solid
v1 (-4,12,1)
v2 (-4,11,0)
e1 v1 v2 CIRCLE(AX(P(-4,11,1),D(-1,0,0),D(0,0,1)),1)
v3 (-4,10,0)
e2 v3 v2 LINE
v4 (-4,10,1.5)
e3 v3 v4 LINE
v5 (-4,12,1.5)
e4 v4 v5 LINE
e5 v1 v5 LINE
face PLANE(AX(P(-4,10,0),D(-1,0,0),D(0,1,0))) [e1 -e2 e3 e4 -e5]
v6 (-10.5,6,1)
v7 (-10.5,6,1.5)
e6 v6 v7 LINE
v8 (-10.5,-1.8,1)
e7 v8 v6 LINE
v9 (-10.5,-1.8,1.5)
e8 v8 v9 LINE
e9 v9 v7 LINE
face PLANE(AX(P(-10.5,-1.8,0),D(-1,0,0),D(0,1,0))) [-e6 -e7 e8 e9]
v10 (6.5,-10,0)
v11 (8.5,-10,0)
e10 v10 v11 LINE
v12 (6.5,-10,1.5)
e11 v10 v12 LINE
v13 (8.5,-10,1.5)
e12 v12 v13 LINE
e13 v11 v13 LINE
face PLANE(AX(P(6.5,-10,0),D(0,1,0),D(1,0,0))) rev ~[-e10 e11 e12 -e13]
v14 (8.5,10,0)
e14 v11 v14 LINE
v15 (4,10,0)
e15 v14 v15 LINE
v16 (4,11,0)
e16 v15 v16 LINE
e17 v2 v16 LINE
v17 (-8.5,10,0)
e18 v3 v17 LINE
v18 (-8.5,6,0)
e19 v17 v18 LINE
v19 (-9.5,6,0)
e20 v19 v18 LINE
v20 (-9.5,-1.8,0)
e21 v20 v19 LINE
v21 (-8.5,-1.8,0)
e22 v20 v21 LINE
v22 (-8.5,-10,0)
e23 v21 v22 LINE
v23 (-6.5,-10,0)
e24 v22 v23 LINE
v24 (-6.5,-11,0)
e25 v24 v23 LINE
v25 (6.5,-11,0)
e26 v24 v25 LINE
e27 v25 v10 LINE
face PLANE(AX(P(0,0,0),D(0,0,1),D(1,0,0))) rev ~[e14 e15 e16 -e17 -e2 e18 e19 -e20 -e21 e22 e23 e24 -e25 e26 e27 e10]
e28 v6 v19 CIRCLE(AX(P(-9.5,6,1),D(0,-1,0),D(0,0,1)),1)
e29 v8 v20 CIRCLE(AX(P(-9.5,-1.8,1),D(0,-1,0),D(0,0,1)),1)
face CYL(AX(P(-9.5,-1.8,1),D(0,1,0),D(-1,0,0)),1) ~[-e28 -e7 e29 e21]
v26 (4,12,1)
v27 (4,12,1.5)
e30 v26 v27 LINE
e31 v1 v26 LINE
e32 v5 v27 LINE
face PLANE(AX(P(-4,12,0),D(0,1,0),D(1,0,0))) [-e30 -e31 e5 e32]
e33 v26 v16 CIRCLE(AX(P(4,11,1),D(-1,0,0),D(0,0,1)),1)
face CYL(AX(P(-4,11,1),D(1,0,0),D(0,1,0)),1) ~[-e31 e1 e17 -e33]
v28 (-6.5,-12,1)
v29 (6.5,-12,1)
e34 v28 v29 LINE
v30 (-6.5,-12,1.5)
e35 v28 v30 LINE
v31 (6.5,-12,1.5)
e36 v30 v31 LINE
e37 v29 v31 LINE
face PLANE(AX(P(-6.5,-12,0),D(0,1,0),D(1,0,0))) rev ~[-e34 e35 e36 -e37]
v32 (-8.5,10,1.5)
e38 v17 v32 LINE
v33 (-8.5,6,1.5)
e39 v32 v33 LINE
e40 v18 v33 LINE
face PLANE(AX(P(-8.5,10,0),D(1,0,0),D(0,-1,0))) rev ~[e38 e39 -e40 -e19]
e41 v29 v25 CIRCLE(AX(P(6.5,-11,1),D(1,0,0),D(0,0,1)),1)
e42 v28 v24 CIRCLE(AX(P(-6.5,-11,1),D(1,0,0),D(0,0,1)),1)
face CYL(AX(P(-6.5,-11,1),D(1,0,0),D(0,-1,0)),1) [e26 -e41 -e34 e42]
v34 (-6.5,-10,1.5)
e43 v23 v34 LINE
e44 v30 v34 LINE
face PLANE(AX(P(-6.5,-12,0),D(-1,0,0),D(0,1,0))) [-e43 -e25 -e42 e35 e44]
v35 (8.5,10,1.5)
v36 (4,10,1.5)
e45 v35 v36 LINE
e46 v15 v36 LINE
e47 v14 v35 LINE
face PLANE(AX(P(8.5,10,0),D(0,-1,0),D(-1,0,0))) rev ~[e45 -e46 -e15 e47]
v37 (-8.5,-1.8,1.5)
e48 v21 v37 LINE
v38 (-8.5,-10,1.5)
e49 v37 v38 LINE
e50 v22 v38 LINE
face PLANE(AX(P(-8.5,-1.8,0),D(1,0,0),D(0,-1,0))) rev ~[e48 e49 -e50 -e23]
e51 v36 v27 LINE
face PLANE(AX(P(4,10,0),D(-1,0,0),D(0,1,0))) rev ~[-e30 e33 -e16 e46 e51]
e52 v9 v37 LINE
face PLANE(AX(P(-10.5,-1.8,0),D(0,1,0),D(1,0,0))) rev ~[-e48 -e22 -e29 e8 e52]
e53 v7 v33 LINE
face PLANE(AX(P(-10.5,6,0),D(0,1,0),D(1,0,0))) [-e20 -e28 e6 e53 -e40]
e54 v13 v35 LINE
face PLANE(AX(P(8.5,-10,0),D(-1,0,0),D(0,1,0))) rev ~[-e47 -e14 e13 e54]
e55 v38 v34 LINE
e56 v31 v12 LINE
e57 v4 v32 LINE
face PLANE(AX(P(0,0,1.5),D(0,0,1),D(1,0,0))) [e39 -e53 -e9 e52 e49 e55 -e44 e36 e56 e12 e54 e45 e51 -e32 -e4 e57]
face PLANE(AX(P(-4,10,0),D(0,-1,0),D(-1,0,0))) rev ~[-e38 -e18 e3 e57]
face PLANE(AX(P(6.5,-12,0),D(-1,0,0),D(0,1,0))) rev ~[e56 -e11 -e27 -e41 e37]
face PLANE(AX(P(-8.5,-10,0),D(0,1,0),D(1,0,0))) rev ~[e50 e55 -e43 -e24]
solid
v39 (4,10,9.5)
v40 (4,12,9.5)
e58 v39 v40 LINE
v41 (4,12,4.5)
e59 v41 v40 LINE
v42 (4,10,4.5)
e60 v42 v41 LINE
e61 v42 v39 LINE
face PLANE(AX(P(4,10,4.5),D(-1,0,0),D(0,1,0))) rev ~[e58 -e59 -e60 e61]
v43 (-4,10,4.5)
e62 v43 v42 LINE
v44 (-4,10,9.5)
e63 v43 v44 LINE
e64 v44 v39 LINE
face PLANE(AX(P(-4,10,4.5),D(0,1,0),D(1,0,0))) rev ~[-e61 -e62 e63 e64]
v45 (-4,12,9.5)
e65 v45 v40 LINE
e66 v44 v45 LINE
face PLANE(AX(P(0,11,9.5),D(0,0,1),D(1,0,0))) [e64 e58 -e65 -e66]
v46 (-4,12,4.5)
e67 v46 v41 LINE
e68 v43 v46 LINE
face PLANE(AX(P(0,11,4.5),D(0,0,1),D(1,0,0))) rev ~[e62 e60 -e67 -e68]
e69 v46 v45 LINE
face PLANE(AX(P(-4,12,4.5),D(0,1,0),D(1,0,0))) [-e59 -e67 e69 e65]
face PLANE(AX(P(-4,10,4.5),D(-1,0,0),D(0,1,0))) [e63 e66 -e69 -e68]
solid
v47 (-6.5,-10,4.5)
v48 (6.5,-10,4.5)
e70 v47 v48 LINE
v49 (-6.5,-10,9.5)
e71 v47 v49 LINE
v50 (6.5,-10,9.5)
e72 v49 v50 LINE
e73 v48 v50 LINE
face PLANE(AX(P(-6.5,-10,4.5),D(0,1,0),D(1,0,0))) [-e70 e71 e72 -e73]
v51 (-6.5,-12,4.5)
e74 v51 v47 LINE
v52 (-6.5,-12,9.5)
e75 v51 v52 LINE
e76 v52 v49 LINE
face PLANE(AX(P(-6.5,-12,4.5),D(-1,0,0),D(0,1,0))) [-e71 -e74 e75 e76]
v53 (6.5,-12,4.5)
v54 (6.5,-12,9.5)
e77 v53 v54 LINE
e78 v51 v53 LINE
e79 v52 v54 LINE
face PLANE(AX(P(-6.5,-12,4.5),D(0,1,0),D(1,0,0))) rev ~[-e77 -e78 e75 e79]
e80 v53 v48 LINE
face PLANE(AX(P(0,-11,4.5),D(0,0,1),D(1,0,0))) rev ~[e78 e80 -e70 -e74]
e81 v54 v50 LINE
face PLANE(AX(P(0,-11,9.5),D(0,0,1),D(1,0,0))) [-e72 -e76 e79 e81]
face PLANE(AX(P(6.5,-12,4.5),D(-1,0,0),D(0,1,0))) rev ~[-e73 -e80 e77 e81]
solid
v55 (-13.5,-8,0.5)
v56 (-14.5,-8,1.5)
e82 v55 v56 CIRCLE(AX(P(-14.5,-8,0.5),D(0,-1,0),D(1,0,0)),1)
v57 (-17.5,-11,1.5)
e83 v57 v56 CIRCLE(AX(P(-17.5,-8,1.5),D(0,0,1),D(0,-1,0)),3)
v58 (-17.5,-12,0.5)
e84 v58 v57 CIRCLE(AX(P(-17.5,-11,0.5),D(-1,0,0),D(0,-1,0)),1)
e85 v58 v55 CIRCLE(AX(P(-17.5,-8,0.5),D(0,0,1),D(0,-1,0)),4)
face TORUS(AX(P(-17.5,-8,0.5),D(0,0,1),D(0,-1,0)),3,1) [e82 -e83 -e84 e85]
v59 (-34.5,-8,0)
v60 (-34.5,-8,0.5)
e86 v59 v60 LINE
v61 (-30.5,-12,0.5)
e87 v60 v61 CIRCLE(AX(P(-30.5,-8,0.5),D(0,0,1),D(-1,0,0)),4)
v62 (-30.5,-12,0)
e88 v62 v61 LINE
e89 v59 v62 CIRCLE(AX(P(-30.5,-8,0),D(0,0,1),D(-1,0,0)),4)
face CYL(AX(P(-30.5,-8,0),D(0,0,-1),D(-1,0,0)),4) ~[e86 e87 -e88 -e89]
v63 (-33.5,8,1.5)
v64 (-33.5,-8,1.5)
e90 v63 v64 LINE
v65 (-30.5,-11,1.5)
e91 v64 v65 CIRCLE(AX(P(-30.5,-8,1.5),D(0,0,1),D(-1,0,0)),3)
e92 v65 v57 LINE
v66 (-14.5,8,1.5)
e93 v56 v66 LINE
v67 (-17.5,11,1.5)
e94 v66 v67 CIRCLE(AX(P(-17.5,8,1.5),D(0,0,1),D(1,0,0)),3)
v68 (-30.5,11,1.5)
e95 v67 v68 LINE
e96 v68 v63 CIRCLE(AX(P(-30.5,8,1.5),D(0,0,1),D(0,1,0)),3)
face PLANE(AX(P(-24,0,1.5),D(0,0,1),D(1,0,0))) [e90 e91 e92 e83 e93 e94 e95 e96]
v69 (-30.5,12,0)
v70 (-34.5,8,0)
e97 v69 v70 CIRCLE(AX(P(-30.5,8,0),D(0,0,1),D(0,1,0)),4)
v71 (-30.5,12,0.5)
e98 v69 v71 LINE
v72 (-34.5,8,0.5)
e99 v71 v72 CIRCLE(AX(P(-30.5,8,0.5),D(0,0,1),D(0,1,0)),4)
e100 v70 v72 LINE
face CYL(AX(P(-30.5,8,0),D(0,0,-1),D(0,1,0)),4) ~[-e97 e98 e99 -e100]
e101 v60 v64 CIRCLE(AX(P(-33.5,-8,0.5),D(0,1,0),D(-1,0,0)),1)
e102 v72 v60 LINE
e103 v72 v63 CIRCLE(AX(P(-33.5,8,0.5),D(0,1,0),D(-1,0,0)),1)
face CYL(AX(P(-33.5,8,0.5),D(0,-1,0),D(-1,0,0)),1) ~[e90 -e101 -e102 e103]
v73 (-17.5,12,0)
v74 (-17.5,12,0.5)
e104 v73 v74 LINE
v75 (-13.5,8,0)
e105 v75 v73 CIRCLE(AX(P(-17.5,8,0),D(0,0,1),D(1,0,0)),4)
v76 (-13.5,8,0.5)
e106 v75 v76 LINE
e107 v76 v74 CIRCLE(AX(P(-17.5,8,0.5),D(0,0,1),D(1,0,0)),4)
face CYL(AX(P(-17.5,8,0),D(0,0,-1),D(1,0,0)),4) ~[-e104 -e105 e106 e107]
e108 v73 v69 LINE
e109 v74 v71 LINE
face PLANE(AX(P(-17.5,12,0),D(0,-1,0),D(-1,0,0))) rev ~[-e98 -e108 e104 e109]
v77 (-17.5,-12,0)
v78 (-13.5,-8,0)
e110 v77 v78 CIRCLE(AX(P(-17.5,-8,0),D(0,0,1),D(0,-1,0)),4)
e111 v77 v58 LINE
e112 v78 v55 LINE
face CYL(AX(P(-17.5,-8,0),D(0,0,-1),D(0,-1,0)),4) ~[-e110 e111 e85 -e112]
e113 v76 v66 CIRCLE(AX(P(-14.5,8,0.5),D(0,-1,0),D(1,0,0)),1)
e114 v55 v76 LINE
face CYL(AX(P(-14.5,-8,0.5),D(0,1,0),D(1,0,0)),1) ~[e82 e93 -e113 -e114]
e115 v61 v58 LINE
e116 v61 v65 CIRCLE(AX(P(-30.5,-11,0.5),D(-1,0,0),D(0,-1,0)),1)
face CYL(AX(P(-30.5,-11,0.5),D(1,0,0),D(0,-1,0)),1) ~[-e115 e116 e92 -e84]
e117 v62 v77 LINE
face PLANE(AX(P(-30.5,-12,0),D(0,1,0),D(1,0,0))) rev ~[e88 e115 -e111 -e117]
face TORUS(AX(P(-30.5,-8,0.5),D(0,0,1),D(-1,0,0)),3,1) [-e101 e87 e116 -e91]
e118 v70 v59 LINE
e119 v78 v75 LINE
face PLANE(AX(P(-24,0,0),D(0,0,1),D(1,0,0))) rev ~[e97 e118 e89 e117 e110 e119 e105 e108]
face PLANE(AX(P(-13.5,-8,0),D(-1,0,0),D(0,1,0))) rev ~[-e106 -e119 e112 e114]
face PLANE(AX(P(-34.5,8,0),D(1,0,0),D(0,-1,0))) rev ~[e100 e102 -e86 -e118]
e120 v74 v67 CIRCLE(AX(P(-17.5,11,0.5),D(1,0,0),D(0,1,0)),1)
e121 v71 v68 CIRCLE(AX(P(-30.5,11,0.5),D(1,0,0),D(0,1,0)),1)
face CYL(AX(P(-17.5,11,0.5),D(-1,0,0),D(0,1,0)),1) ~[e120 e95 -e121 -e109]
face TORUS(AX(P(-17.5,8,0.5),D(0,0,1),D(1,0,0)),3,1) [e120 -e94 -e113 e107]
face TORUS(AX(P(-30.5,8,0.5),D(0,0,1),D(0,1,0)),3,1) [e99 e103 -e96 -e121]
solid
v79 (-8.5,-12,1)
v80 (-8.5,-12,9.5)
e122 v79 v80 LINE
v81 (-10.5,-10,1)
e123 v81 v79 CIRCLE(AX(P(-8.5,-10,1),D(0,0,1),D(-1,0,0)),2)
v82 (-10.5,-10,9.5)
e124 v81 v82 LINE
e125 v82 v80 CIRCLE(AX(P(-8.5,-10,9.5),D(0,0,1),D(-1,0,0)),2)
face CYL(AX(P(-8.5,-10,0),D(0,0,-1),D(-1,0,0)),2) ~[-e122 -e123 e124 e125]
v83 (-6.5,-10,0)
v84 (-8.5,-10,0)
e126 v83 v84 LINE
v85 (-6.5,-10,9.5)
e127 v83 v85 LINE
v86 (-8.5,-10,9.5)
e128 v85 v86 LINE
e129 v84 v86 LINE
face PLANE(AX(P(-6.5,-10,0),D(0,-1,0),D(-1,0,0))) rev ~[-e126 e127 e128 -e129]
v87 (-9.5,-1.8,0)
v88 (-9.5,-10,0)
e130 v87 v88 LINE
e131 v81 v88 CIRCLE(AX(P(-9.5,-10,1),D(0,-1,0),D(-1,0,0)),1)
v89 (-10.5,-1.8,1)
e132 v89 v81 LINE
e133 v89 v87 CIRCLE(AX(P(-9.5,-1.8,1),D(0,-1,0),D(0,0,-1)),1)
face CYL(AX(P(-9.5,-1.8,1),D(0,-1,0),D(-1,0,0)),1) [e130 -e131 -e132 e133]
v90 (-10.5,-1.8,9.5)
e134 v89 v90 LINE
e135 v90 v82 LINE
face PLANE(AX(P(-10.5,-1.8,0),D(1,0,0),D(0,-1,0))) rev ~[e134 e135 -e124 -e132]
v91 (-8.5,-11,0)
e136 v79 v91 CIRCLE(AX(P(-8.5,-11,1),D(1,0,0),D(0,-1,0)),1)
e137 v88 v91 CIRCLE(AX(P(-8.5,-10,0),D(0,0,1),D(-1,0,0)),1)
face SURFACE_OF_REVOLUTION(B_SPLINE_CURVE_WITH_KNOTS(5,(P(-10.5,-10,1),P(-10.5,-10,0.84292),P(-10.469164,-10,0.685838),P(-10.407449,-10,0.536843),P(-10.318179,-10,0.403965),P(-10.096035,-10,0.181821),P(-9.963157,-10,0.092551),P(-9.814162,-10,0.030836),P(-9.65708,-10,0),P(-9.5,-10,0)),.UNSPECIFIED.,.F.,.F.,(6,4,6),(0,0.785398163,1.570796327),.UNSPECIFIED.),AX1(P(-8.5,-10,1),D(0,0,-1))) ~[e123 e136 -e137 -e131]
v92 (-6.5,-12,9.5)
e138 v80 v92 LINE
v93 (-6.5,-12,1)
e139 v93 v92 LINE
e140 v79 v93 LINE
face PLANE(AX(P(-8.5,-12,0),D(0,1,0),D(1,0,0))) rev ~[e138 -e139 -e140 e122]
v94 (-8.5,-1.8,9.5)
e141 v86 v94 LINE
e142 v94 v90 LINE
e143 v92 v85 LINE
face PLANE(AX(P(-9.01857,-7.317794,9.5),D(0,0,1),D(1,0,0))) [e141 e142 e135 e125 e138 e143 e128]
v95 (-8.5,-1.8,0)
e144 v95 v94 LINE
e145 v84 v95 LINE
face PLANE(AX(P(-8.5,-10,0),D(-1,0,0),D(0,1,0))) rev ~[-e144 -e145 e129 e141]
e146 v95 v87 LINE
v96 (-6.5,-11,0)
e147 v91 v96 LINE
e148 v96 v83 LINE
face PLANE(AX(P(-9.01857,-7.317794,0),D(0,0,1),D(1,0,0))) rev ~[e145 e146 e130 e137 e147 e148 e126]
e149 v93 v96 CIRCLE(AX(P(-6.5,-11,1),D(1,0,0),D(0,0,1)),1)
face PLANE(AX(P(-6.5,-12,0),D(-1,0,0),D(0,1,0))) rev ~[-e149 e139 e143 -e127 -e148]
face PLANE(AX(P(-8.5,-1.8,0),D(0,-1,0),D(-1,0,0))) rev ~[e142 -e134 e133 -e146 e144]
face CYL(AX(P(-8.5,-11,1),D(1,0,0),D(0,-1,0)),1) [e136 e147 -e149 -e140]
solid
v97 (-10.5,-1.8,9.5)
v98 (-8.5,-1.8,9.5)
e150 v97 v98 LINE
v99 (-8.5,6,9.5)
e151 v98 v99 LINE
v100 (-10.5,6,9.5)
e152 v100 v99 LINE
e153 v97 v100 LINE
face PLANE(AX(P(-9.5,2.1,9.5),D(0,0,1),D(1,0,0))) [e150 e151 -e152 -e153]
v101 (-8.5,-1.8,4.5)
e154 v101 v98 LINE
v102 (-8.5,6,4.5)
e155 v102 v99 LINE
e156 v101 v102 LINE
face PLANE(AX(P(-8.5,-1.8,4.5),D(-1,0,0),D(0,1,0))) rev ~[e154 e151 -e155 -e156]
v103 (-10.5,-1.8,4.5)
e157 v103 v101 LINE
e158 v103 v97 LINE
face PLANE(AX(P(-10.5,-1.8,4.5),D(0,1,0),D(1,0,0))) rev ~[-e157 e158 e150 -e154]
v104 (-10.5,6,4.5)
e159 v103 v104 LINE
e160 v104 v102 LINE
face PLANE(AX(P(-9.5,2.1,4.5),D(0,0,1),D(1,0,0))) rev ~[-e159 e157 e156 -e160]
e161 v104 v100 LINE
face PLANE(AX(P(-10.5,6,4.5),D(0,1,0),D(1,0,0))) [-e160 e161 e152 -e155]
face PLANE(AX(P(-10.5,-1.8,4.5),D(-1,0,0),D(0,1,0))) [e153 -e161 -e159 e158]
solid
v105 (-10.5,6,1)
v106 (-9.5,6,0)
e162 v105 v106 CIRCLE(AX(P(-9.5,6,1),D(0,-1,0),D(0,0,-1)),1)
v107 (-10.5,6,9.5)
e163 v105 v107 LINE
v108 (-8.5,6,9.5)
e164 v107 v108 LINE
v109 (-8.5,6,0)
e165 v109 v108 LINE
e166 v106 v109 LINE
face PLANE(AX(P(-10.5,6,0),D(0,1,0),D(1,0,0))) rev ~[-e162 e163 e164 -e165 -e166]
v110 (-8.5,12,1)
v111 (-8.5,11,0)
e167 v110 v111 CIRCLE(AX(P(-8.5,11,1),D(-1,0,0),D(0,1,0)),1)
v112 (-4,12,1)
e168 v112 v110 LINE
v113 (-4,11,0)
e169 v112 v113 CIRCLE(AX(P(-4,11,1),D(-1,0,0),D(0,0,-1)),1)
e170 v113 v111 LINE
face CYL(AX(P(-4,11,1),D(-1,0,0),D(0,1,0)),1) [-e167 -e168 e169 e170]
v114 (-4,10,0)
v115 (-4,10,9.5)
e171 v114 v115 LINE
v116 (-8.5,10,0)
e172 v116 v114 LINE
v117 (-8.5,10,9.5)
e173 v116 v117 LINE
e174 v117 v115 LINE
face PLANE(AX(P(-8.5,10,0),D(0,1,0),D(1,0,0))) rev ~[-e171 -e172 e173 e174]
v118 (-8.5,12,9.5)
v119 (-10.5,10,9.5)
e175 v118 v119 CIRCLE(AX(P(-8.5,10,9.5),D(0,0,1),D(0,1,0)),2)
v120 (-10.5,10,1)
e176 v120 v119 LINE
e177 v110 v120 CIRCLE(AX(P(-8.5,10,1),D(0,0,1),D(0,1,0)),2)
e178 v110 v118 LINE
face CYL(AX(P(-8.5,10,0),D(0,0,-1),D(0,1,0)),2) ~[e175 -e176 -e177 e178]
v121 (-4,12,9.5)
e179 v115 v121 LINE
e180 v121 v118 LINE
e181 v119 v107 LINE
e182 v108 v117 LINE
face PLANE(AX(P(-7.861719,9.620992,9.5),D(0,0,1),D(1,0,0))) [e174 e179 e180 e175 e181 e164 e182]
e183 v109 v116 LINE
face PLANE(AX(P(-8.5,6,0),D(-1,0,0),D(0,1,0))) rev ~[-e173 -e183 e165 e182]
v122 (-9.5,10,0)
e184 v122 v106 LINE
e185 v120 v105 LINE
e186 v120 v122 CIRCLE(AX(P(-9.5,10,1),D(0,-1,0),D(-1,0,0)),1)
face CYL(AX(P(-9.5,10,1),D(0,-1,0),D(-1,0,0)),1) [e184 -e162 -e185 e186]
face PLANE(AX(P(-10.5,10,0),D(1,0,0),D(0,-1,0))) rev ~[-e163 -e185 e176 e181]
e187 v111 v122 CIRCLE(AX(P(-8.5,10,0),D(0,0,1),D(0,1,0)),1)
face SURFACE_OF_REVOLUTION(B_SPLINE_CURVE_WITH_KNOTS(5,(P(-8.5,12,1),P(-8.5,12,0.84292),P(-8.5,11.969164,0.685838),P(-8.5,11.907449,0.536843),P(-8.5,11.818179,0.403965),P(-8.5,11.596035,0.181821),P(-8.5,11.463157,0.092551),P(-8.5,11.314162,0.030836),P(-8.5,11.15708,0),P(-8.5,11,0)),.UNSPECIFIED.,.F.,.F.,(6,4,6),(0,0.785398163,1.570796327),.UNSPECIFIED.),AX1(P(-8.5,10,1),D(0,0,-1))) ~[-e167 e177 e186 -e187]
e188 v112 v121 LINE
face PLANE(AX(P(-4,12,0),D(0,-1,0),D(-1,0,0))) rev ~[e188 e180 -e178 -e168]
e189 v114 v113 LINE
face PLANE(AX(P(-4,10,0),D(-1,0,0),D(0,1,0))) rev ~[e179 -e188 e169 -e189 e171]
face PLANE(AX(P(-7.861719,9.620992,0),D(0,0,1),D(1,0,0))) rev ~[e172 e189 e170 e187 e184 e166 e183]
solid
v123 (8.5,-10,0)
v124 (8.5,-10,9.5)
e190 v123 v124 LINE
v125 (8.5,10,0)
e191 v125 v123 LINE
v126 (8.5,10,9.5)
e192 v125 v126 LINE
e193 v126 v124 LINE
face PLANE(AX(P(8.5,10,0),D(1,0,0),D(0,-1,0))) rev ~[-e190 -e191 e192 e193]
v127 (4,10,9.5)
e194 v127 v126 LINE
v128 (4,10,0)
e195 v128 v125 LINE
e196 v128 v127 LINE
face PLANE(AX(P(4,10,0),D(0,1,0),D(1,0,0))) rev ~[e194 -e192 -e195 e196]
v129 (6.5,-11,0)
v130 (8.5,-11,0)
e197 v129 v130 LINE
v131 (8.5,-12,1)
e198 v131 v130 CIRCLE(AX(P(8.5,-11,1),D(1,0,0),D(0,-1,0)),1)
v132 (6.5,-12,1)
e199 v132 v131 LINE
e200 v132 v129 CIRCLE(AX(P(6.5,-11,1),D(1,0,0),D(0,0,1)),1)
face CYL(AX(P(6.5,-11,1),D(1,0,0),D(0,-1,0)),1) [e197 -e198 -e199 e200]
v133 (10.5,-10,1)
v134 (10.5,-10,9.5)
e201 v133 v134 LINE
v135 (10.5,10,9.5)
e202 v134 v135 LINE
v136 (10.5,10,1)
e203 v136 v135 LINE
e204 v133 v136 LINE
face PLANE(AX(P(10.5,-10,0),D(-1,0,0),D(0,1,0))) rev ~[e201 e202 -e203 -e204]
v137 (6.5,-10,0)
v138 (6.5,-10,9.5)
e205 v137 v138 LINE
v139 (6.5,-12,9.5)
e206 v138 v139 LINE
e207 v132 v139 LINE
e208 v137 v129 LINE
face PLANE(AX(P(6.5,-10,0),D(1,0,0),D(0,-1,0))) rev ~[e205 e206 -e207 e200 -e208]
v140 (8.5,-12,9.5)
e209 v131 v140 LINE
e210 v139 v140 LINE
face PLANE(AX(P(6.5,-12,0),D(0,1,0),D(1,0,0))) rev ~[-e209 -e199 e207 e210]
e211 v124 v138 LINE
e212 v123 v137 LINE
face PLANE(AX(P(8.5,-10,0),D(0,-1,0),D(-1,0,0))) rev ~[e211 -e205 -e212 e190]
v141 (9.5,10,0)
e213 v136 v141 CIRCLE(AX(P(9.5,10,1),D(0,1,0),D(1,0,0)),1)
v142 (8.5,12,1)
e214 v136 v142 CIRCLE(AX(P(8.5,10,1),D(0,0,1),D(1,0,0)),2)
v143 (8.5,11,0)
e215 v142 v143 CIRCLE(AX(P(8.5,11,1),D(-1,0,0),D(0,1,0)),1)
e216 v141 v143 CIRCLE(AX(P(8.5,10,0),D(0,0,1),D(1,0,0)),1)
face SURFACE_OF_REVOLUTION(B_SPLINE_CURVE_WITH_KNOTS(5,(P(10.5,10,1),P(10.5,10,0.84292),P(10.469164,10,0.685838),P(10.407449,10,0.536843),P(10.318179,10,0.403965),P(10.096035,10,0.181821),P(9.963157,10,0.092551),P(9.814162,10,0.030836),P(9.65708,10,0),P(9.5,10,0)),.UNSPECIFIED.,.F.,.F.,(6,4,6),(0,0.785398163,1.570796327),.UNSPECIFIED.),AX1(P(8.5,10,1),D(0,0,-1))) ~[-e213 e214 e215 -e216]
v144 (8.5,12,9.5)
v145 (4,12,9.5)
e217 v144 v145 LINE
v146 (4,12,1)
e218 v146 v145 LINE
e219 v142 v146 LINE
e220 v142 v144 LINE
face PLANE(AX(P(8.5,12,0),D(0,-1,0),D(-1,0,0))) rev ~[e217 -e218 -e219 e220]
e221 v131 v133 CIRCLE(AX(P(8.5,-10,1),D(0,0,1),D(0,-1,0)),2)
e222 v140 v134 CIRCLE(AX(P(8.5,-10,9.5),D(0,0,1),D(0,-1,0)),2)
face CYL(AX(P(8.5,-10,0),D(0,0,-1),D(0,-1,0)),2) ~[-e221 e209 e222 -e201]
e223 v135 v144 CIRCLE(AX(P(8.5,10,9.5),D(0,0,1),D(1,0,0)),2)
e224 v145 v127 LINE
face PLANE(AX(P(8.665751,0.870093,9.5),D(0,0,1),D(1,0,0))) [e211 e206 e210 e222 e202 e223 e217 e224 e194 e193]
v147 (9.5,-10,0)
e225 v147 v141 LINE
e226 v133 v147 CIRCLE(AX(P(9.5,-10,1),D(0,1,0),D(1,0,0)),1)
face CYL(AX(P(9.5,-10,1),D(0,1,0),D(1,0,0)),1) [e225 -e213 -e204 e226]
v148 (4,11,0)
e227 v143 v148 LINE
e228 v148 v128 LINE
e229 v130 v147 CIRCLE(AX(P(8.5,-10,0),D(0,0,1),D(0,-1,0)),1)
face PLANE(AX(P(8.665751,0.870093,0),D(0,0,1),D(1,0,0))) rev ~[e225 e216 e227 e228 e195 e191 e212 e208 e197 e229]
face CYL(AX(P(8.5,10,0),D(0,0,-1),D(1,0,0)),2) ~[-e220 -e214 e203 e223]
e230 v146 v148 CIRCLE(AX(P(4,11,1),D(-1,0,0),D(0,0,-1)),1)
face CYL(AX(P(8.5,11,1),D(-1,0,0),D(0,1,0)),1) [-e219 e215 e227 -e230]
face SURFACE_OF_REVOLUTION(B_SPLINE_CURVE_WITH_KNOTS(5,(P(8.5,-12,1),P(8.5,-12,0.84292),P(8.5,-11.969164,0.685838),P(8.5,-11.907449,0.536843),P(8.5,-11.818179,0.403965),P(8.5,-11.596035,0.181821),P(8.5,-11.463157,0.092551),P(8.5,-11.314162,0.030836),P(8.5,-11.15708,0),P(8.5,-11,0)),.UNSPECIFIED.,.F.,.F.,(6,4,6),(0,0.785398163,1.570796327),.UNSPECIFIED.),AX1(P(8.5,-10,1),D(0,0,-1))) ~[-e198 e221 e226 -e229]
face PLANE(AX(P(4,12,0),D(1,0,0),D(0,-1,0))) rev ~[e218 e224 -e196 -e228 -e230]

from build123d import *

# Parameters (mm, degrees)
F1_DEPTH = 9.5
F2_W     = 8
F2_H     = 2
F2_W_2   = 2
F2_H_2   = 7.8
F2_W_3   = 13
F3_DEPTH = 1.5
F5_START = 4.5
F4_W     = 8
F4_H     = 2
F5_DEPTH = 5
F4_W_2   = 2
F4_H_2   = 7.8
F4_W_3   = 13
F6_R     = 1
F6_2_R   = 1
F6_3_R   = 1
F6_4_R   = 1
F8_DEPTH = 1.5
F9_R     = 1


with BuildPart() as f1:
    # F0 (on Top) → F1 (new body)
    with BuildSketch(Plane.XY):
        with BuildLine():
            Line((8.5, 10), (8.5, -10))
            Line((8.5, -10), (6.5, -10))
            Line((6.5, -10), (6.5, -12))
            Line((6.5, -12), (8.5, -12))
            ThreePointArc((8.5, -12), (9.9142135624, -11.4142135624), (10.5, -10))
            Line((10.5, -10), (10.5, 10))
            ThreePointArc((10.5, 10), (9.9142135624, 11.4142135624), (8.5, 12))
            Line((8.5, 12), (4, 12))
            Line((4, 12), (4, 10))
            Line((4, 10), (8.5, 10))
        make_face()
    extrude(amount=F1_DEPTH)

    # F6
    f6_edges = [f1.edges().sort_by_distance(p)[0] for p in [
        (9.914214, 11.414214, 0),
    ]]
    fillet(f6_edges, radius=F6_R)


with BuildPart() as f1b:
    # F0 (on Top) → F1, piece 2 (new body)
    with BuildSketch(Plane.XY):
        with BuildLine():
            Line((-6.5, -12), (-6.5, -10))
            Line((-6.5, -10), (-8.5, -10))
            Line((-8.5, -10), (-8.5, -1.8))
            Line((-8.5, -1.8), (-10.5, -1.8))
            Line((-10.5, -1.8), (-10.5, -10))
            ThreePointArc((-10.5, -10), (-9.9142135624, -11.4142135624), (-8.5, -12))
            Line((-8.5, -12), (-6.5, -12))
        make_face()
    extrude(amount=F1_DEPTH)

    # F6#4
    f6_4_edges = [f1b.edges().sort_by_distance(p)[0] for p in [
        (-10.5, -5.9, 0),
    ]]
    fillet(f6_4_edges, radius=F6_4_R)


with BuildPart() as f1c:
    # F0 (on Top) → F1, piece 3 (new body)
    with BuildSketch(Plane.XY):
        with BuildLine():
            Line((-8.5, 10), (-4, 10))
            Line((-4, 10), (-4, 12))
            Line((-4, 12), (-8.5, 12))
            ThreePointArc((-8.5, 12), (-9.9142135624, 11.4142135624), (-10.5, 10))
            Line((-10.5, 10), (-10.5, 6))
            Line((-10.5, 6), (-8.5, 6))
            Line((-8.5, 6), (-8.5, 10))
        make_face()
    extrude(amount=F1_DEPTH)

    # F6#3
    f6_3_edges = [f1c.edges().sort_by_distance(p)[0] for p in [
        (-9.914214, 11.414214, 0),
    ]]
    fillet(f6_3_edges, radius=F6_3_R)


with BuildPart() as f3:
    # F2 (on Top) → F3 (new body)
    with BuildSketch(Plane.XY):
        Polygon((6.5, -10), (8.5, -10), (8.5, 10), (4, 10), (-4, 10), (-8.5, 10), (-8.5, 6), (-8.5, -1.8), (-8.5, -10), (-6.5, -10), align=None)
        with Locations((0, 11)):
            Rectangle(F2_W, F2_H)
        with Locations((-9.5, 2.1)):
            Rectangle(F2_W_2, F2_H_2)
        with Locations((0, -11)):
            Rectangle(F2_W_3, F2_H)
    extrude(amount=F3_DEPTH)

    # F6#2
    f6_2_edges = [f3.edges().sort_by_distance(p)[0] for p in [
        (0, 12, 0),
        (-10.5, 2.1, 0),
        (0, -12, 0),
    ]]
    fillet(f6_2_edges, radius=F6_2_R)


with BuildPart() as f5:
    # F4 (on Top) → F5 (new body)
    with BuildSketch(Plane.XY.offset(F5_START)):
        with Locations((0, 11)):
            Rectangle(F4_W, F4_H)
    extrude(amount=F5_DEPTH)


with BuildPart() as f5b:
    # F4 (on Top) → F5, piece 2 (new body)
    with BuildSketch(Plane.XY.offset(F5_START)):
        with Locations((-9.5, 2.1)):
            Rectangle(F4_W_2, F4_H_2)
    extrude(amount=F5_DEPTH)


with BuildPart() as f5c:
    # F4 (on Top) → F5, piece 3 (new body)
    with BuildSketch(Plane.XY.offset(F5_START)):
        with Locations((0, -11)):
            Rectangle(F4_W_3, F4_H)
    extrude(amount=F5_DEPTH)


with BuildPart() as f8:
    # F7 (on Top) → F8 (new body)
    with BuildSketch(Plane.XY):
        with BuildLine():
            Line((-13.5, -8), (-13.5, 8))
            ThreePointArc((-13.5, 8), (-14.6715728753, 10.8284271247), (-17.5, 12))
            Line((-17.5, 12), (-30.5, 12))
            ThreePointArc((-30.5, 12), (-33.3284271247, 10.8284271247), (-34.5, 8))
            Line((-34.5, 8), (-34.5, -8))
            ThreePointArc((-34.5, -8), (-33.3284271247, -10.8284271247), (-30.5, -12))
            Line((-30.5, -12), (-17.5, -12))
            ThreePointArc((-17.5, -12), (-14.6715728753, -10.8284271247), (-13.5, -8))
        make_face()
        with BuildLine():
            ThreePointArc((-15.5, -8), (-16.0857864376, -9.4142135624), (-17.5, -10))
            Line((-17.5, -10), (-30.5, -10))
            ThreePointArc((-30.5, -10), (-31.9142135624, -9.4142135624), (-32.5, -8))
            Line((-32.5, -8), (-32.5, 8))
            ThreePointArc((-32.5, 8), (-31.9142135624, 9.4142135624), (-30.5, 10))
            Line((-30.5, 10), (-17.5, 10))
            ThreePointArc((-17.5, 10), (-16.0857864376, 9.4142135624), (-15.5, 8))
            Line((-15.5, 8), (-15.5, -8))
        make_face(mode=Mode.SUBTRACT)
        with BuildLine():
            Line((-30.5, -10), (-17.5, -10))
            ThreePointArc((-17.5, -10), (-16.0857864376, -9.4142135624), (-15.5, -8))
            Line((-15.5, -8), (-15.5, 8))
            ThreePointArc((-15.5, 8), (-16.0857864376, 9.4142135624), (-17.5, 10))
            Line((-17.5, 10), (-30.5, 10))
            ThreePointArc((-30.5, 10), (-31.9142135624, 9.4142135624), (-32.5, 8))
            Line((-32.5, 8), (-32.5, -8))
            ThreePointArc((-32.5, -8), (-31.9142135624, -9.4142135624), (-30.5, -10))
        make_face()
    extrude(amount=F8_DEPTH)

    # F9
    f9_edges = [f8.edges().sort_by_distance(p)[0] for p in [
        (-24, -12, 1.5),
        (-14.671573, -10.828427, 1.5),
        (-13.5, 0, 1.5),
        (-14.671573, 10.828427, 1.5),
        (-24, 12, 1.5),
        (-33.328427, 10.828427, 1.5),
        (-34.5, 0, 1.5),
        (-33.328427, -10.828427, 1.5),
    ]]
    fillet(f9_edges, radius=F9_R)


solid = Compound([f1.part, f1b.part, f1c.part, f3.part, f5.part, f5b.part, f5c.part, f8.part])
